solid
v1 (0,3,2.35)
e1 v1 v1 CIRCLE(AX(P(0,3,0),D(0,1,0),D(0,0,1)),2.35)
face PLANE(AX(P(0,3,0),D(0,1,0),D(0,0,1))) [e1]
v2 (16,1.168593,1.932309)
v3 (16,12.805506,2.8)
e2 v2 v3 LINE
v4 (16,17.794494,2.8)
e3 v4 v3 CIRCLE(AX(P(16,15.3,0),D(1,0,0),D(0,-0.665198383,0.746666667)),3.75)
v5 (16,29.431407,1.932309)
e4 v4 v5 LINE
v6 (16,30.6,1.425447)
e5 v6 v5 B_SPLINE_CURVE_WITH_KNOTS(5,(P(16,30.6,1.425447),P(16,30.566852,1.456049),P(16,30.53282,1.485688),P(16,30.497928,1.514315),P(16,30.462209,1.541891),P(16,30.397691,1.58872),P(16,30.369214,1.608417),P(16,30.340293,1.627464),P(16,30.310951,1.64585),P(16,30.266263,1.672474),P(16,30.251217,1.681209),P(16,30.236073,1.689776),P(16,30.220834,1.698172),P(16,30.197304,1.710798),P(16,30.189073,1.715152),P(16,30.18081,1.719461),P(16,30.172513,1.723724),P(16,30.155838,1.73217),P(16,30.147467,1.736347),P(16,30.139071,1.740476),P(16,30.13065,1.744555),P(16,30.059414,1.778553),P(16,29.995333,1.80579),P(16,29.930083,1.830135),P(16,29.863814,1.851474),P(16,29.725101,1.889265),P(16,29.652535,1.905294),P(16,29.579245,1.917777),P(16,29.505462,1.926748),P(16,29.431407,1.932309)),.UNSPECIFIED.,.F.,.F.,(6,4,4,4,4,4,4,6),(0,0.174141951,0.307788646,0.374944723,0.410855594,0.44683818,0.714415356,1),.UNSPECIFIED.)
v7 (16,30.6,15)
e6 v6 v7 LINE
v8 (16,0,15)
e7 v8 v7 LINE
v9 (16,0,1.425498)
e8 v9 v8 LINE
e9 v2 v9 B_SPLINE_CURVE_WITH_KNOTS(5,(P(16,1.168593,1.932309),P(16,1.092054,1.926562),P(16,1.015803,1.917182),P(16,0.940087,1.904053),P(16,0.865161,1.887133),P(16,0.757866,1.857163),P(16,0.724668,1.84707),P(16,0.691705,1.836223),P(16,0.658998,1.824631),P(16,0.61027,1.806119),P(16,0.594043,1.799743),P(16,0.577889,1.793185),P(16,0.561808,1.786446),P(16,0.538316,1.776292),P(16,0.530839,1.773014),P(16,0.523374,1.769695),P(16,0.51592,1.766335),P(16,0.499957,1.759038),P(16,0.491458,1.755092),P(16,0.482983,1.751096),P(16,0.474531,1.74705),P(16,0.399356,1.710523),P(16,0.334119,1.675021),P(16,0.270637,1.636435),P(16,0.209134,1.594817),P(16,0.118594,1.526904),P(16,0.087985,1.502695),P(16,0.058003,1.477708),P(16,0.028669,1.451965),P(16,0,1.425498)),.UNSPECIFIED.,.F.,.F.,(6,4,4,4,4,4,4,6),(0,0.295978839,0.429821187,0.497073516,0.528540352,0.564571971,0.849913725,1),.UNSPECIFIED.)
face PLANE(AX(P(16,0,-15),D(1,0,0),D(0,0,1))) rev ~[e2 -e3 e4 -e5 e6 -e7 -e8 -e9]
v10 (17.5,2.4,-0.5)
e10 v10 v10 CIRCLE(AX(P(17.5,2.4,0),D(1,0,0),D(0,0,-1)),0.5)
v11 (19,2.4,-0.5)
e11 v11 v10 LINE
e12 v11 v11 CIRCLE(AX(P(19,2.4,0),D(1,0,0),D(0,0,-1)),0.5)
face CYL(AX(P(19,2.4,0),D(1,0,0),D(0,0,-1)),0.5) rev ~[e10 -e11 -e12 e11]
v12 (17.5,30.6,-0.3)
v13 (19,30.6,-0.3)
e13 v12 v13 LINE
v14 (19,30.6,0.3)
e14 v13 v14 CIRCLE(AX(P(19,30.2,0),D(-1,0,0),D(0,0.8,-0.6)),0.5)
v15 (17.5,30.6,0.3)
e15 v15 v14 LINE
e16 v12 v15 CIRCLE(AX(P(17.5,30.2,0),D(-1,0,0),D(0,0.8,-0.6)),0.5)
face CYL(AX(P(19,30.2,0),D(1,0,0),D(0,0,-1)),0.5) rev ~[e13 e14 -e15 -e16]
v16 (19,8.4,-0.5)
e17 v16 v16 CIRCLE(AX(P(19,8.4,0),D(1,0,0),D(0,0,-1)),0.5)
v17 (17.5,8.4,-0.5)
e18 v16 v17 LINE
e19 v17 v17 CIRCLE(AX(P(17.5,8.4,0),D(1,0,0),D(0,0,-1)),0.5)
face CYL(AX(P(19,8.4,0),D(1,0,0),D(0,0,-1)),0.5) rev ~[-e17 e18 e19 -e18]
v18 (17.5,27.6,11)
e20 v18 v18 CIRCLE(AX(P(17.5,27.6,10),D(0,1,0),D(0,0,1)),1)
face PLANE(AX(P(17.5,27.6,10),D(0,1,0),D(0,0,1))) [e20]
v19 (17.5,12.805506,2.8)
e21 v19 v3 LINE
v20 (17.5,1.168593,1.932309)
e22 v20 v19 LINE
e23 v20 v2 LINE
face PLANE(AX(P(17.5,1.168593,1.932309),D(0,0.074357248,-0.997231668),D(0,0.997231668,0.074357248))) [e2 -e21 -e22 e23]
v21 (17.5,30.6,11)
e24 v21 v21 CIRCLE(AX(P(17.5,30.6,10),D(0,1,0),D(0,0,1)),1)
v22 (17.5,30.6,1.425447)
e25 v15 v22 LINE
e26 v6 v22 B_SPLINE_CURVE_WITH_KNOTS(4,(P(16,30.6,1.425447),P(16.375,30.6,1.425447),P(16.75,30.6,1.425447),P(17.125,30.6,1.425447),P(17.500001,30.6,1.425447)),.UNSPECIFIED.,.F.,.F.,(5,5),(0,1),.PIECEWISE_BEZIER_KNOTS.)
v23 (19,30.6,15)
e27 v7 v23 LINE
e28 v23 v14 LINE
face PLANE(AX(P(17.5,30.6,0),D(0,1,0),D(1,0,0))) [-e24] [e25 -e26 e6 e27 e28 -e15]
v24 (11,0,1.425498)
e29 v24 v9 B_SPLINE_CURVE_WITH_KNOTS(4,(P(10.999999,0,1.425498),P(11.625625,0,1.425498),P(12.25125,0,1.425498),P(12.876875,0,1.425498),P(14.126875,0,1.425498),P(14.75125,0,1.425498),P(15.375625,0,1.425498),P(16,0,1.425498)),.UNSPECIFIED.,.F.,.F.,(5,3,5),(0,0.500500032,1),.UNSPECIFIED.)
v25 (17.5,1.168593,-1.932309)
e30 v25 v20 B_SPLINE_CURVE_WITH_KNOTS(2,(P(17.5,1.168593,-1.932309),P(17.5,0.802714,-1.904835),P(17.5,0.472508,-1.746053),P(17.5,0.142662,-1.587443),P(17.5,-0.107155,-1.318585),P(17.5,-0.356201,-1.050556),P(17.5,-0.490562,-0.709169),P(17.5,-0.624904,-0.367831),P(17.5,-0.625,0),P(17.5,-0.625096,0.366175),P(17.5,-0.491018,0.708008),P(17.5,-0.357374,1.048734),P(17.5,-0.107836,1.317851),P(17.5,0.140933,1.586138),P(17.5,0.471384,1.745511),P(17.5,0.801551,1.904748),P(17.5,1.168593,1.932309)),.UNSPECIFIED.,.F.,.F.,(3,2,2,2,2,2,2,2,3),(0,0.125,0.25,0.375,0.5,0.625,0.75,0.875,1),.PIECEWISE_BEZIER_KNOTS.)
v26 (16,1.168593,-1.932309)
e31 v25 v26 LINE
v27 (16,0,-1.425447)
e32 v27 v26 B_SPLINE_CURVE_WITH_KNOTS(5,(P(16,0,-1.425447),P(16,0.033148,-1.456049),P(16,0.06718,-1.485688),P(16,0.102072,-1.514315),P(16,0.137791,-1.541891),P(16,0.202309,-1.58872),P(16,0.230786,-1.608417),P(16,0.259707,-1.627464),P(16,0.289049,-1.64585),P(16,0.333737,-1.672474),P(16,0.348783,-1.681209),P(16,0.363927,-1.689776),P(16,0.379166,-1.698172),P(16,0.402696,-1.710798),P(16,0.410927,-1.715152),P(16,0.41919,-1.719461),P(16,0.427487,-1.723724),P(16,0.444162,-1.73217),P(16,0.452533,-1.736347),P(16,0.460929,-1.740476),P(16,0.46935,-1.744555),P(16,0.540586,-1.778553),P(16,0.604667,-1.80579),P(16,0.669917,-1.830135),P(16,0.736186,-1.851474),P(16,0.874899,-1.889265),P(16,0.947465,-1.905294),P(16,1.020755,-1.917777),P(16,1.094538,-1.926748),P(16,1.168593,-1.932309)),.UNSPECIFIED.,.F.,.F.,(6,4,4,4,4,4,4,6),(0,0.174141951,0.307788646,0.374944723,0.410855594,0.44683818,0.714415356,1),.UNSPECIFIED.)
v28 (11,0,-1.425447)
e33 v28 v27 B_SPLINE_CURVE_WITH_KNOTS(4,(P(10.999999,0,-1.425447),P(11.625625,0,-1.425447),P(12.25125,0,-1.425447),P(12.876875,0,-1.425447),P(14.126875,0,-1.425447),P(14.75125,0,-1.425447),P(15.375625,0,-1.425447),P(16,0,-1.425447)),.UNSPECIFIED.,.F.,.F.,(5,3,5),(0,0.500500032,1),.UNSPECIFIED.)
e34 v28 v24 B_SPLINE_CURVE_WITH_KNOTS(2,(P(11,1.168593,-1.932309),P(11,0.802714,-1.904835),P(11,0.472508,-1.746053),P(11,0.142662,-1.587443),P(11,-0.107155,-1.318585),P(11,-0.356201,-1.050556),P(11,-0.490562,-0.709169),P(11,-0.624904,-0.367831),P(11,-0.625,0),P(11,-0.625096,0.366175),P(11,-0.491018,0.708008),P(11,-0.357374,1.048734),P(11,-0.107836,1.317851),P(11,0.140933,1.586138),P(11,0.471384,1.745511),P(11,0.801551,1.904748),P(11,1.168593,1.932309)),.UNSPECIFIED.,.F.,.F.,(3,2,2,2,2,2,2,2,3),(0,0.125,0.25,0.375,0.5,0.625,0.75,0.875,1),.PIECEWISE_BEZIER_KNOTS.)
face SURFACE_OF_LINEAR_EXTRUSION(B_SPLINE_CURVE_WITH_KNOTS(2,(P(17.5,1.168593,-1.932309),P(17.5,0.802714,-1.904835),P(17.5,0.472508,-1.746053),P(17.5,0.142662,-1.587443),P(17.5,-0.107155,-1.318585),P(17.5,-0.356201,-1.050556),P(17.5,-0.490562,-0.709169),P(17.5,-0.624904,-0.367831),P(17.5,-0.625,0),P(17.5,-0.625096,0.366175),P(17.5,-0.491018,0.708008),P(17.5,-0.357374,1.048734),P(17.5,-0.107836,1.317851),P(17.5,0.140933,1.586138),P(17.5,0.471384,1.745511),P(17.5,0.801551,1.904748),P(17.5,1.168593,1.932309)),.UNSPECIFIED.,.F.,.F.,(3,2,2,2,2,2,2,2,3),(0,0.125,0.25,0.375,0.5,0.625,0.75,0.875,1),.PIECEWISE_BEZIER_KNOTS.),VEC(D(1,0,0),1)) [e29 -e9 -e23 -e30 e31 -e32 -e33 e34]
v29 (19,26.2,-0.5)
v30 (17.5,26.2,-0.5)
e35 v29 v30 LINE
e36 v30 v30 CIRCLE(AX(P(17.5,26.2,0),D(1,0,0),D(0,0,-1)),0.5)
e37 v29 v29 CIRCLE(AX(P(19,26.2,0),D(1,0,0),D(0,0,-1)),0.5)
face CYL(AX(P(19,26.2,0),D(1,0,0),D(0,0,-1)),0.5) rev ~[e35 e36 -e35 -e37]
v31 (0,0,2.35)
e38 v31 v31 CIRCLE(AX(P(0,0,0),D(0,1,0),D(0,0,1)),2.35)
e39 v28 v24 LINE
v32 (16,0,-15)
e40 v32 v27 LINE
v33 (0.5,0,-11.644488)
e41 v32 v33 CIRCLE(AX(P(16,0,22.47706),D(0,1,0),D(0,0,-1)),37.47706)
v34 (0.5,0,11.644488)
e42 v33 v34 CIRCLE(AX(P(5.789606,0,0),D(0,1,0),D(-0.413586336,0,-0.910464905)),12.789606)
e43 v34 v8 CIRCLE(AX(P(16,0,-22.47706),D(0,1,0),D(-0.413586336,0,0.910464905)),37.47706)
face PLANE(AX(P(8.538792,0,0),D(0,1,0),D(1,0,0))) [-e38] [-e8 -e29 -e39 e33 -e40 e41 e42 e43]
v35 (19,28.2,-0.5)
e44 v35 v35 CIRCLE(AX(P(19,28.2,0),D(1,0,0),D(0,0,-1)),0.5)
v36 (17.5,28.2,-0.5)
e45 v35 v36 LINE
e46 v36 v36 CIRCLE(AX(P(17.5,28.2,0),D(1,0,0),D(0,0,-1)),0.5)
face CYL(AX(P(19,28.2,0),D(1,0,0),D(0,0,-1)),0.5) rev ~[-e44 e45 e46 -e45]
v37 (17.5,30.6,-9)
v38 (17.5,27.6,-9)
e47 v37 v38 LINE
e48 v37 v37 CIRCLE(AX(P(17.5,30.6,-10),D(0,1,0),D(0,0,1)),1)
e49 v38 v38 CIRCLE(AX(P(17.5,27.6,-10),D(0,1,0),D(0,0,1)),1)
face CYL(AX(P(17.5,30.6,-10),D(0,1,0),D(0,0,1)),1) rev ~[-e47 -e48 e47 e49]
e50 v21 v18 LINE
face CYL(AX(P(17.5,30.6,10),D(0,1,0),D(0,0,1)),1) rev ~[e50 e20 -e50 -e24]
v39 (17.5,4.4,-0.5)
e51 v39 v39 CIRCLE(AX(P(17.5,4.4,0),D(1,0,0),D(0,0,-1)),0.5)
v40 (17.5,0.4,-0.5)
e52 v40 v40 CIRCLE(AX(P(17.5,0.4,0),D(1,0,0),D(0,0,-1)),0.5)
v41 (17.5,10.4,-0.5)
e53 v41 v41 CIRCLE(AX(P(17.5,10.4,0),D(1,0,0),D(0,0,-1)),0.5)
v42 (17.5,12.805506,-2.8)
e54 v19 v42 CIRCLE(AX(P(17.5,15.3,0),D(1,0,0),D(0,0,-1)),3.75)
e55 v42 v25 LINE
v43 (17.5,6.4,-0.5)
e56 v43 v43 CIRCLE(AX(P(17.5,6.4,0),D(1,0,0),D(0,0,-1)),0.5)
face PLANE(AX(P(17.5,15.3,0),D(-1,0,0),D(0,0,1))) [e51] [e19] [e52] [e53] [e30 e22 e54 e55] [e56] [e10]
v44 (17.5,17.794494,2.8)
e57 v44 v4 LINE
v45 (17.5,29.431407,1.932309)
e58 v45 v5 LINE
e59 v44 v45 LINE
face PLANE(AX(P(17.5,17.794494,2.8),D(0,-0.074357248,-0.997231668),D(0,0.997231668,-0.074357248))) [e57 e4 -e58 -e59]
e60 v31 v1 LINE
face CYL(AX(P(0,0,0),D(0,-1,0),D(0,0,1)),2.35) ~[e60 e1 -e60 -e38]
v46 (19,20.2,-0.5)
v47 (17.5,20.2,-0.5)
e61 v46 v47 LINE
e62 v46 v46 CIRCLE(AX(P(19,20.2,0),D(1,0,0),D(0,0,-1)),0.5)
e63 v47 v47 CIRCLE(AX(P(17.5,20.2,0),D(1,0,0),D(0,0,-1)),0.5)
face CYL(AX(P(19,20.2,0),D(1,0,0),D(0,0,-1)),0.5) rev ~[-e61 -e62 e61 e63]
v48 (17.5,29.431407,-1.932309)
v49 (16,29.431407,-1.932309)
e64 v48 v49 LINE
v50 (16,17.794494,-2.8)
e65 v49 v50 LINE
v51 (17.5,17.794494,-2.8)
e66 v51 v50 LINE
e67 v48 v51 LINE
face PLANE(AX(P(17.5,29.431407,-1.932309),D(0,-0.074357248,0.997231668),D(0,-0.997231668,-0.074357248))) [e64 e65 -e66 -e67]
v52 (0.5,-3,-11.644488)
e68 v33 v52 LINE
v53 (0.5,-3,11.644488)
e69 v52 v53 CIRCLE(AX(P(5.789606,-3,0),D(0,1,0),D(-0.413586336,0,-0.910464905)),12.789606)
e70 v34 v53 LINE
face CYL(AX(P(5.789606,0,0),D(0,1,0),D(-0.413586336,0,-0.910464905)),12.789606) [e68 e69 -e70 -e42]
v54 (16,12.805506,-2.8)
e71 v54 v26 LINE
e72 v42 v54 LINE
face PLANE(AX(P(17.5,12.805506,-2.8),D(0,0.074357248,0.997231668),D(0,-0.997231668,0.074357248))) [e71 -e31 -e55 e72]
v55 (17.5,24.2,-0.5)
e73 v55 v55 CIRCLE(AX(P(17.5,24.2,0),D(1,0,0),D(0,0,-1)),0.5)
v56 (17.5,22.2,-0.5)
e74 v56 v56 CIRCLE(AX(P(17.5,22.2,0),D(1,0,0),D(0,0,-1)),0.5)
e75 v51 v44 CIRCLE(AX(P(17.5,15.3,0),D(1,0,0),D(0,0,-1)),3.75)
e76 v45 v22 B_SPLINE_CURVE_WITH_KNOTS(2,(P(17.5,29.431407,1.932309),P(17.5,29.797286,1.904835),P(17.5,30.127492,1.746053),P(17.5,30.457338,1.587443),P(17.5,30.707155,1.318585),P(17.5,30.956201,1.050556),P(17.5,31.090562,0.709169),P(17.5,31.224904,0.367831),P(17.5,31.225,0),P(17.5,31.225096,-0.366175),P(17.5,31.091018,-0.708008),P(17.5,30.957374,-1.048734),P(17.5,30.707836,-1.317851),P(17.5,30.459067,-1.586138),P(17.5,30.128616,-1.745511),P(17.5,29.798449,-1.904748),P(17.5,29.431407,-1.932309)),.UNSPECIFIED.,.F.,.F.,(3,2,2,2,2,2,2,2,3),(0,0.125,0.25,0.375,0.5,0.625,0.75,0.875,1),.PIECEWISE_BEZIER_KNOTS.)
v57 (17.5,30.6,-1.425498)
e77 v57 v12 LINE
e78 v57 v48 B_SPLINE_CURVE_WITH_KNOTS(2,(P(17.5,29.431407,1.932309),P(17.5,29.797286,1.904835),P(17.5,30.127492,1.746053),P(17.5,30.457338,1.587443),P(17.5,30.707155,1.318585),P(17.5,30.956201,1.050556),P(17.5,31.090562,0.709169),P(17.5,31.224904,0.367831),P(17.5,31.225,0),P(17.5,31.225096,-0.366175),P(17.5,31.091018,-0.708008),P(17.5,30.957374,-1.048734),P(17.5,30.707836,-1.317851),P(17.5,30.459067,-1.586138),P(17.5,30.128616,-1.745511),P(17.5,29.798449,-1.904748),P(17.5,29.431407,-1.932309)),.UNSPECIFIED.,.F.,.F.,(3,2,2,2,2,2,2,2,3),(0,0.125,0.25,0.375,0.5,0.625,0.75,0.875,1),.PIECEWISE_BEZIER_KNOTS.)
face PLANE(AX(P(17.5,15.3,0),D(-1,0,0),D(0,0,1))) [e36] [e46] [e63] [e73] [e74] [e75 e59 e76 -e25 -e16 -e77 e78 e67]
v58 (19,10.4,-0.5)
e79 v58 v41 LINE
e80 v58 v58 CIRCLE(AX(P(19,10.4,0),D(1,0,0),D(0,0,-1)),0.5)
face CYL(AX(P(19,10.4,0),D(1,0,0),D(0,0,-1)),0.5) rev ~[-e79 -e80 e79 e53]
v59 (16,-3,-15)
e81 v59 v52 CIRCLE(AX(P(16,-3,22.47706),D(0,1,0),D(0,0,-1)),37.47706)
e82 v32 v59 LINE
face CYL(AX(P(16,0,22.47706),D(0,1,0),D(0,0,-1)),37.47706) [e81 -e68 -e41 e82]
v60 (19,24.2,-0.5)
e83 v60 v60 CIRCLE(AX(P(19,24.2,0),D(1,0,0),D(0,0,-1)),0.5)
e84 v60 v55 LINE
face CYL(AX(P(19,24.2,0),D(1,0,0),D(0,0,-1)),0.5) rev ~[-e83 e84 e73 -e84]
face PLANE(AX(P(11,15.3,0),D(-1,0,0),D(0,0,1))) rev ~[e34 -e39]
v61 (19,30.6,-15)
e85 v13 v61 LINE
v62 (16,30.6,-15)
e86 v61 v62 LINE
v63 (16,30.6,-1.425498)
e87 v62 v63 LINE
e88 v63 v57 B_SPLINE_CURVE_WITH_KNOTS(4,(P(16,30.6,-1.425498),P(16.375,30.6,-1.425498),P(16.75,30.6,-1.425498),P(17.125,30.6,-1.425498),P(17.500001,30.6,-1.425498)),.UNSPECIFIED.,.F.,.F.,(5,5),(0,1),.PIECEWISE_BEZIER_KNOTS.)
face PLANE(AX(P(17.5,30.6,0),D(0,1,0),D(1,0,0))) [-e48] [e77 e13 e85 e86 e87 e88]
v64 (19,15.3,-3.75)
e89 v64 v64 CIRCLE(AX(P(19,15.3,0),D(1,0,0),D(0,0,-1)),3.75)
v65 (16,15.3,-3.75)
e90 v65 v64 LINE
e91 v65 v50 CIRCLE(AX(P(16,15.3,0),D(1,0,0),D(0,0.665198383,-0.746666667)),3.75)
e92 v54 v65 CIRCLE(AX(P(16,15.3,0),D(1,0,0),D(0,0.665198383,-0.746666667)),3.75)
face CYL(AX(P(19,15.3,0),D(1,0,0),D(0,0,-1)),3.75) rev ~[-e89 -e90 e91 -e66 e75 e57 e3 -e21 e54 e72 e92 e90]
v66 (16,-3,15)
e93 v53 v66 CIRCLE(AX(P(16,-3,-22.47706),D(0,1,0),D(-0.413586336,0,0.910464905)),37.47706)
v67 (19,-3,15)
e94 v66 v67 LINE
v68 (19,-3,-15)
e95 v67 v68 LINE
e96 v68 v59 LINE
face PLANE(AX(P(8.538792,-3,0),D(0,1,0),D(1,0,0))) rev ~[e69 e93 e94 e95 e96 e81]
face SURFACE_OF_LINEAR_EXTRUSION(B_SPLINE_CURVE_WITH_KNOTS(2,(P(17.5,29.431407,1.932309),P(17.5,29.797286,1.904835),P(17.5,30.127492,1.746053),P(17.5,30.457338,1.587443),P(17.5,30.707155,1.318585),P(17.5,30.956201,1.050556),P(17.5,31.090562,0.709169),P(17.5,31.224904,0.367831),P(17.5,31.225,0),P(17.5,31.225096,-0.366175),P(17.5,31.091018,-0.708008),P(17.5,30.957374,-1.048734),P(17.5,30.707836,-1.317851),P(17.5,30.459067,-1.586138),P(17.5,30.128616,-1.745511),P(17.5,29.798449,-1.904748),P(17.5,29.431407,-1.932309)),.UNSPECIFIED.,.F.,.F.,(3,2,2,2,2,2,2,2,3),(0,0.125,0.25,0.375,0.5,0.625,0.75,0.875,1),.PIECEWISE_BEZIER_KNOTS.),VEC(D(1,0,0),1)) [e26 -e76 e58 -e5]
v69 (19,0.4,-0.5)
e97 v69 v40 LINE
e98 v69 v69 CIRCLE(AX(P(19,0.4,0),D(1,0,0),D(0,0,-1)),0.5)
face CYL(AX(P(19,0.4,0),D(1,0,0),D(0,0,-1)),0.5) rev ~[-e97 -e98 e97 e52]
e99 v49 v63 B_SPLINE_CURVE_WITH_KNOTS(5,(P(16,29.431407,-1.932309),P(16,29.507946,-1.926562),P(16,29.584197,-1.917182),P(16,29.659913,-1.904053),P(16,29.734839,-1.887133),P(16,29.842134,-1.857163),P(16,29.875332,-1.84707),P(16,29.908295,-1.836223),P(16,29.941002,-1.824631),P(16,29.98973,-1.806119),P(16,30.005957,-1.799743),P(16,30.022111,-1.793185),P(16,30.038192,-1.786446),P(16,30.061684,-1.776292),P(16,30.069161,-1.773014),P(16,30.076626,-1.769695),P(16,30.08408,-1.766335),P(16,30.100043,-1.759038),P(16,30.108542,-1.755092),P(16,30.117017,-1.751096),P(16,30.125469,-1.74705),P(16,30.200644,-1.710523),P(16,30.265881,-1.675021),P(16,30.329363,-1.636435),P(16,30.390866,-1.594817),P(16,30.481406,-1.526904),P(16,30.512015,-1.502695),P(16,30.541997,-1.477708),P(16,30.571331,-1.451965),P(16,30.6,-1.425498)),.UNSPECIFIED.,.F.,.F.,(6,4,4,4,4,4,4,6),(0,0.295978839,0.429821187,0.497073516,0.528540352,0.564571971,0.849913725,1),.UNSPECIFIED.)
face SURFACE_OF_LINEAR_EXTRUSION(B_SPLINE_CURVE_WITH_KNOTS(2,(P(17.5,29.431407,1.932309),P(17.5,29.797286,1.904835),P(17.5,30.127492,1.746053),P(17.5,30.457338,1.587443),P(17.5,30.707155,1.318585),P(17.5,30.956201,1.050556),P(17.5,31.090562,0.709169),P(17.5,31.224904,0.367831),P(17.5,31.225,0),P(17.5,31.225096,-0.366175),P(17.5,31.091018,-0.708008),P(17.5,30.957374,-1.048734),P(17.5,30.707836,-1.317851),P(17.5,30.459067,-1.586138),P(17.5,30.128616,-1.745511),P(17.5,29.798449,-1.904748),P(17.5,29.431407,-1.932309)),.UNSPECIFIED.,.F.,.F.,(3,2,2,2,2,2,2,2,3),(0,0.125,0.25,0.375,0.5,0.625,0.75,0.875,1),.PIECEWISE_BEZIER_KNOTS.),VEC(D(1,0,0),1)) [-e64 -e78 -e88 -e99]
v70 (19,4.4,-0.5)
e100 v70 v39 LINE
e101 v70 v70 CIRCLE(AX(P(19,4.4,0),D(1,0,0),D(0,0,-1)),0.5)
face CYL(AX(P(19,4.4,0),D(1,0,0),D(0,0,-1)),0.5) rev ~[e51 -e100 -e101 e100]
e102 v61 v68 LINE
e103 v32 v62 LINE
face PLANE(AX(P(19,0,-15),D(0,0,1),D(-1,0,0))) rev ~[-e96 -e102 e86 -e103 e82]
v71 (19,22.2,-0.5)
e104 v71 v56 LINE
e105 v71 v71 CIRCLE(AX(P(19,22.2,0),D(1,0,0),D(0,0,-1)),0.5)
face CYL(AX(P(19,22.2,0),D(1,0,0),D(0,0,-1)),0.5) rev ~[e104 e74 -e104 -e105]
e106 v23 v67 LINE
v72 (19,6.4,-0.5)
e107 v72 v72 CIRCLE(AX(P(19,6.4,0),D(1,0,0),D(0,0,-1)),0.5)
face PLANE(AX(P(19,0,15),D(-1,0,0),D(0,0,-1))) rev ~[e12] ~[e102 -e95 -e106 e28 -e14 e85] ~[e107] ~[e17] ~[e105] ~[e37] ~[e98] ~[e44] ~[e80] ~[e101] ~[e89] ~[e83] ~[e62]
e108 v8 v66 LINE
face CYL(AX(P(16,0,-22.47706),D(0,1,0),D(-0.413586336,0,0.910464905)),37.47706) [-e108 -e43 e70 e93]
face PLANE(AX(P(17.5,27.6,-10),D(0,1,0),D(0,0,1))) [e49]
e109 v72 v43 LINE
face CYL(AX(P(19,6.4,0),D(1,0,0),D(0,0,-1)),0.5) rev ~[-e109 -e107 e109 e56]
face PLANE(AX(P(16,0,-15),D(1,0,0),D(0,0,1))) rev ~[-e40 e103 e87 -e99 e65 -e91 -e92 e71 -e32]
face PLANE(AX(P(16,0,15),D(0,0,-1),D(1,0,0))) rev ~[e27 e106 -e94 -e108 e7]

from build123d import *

# Parameters (mm, degrees)
BOSS_EXTRUDE1_DEPTH          = 3
BOSS_EXTRU_1_DEPTH           = 30.6
ESQUISSE2_R                  = 1.0000000000000018
ENL_V_MAT_EXTRU_1_DEPTH      = 3
ESQUISSE3_R                  = 2.349999999999996
BOSS_EXTRU_2_DEPTH           = 3
ESQUISSE4_R                  = 2.5
ENL_V_MAT_EXTRU_2_DEPTH      = 42.11398788733586
ENL_V_MAT_EXTRU_3_DEPTH      = 5
ENL_V_MAT_EXTRU_3_DEPTH_BACK = 1.5
ESQUISSE6_R                  = 0.4999999999999987
ESQUISSE6_R_2                = 0.5000000000000008
ESQUISSE6_R_3                = 0.49999999999999967
ESQUISSE6_R_4                = 3.749999999999999
ENL_V_MAT_EXTRU_4_DEPTH      = 3


with BuildPart() as part:
    # Sketch1 → Boss-Extrude1 (new body)
    with BuildSketch(Plane(origin=(0, 0, 0), x_dir=(1, 0, 0), z_dir=(0, 1, 0))):
        with BuildLine():
            Line((19, 15), (16.00000000000001, 15))
            ThreePointArc((16.00000000000001, 15.000000000000007), (8.070475080311514, 14.151517110035783), (0.5000000000000107, 11.644487847162011))
            ThreePointArc((0.5000000000000098, 11.64448784716201), (-6.999999999999976, -4.4e-16), (0.5000000000000098, -11.644487847162011))
            ThreePointArc((0.5000000000000107, -11.644487847162011), (8.070475080311514, -14.151517110035783), (16.00000000000001, -15.000000000000007))
            Line((16.00000000000001, -15), (19, -15))
            Line((19, -15), (19, 15))
        make_face()
    extrude(amount=-BOSS_EXTRUDE1_DEPTH)

    # Esquisse1 → Boss.-Extru.1 (add)
    with BuildSketch(Plane(origin=(0, 0, 0), x_dir=(1, 0, 0), z_dir=(0, 1, 0))):
        Polygon((19, 15), (16.000000000000007, 15), (16.00000000000001, -15), (19.000000000000004, -15), align=None)
    extrude(amount=BOSS_EXTRU_1_DEPTH)

    # Esquisse2 → Enlèv. mat.-Extru.1 (cut)
    with BuildSketch(Plane(origin=(0, 30.6, 0), x_dir=(1, 0, 0), z_dir=(0, 1, 0))):
        with Locations(Location((17.500000000000004, 10, 0), (0, 0, 270))):
            Circle(ESQUISSE2_R)
        with Locations(Location((17.500000000000004, -10, 0), (0, 0, 270))):
            Circle(ESQUISSE2_R)
    extrude(amount=-ENL_V_MAT_EXTRU_1_DEPTH, mode=Mode.SUBTRACT)

    # Esquisse3 → Boss.-Extru.2 (add)
    with BuildSketch(Plane(origin=(0, 0, 0), x_dir=(1, 0, 0), z_dir=(0, 1, 0))):
        with Locations(Location((0, 0, 0), (0, 0, 270))):
            Circle(ESQUISSE3_R)
    extrude(amount=BOSS_EXTRU_2_DEPTH)

    # Esquisse4 → Enlèv. mat.-Extru.2 (cut, through all)
    with BuildSketch(Plane.ZY.offset(-16.000000000000007)):
        with Locations((0, 15.3)):
            Circle(ESQUISSE4_R)
    extrude(amount=-ENL_V_MAT_EXTRU_2_DEPTH, mode=Mode.SUBTRACT)

    # Esquisse5 → Enlèv. mat.-Extru.3 (cut, two sides: drawn at the far end of the back side and taken through both)
    with BuildSketch(Plane.ZY.offset(-16.000000000000007).offset(-ENL_V_MAT_EXTRU_3_DEPTH_BACK)):
        with BuildLine():
            Line((-2.8000000000001206, 12.805506063347845), (-1.9323091258538179, 1.1685931981230362))
            add(Edge.make_bspline(
                [(-1.9323091258538179, 1.1685931981230362), (-1.9048352156569601, 0.8027138716048543), (-1.7460527055675423, 0.47250804579621575), (-1.5874431867330887, 0.14266197447294557), (-1.3185847338688517, -0.10715488116746878), (-1.0505560477953044, -0.3562007373159315), (-0.7091686681940543, -0.4905620157021409), (-0.3678310237411564, -0.6249037196151552), (-1.5634e-13, -0.6249999999988765), (0.3661752794111309, -0.6250958469887595), (0.7080076723836786, -0.4910181757340655), (1.0487343876149366, -0.35737418689144385), (1.3178512419643233, -0.1078357174129213), (1.5861375320152837, 0.14093261173257243), (1.745511479884174, 0.4713841828126921), (1.9047478532446405, 0.8015505020492266), (1.932309125853515, 1.1685931981230258)],
                knots=[0, 0, 0, 0.125, 0.125, 0.25, 0.25, 0.375, 0.375, 0.5, 0.5, 0.625, 0.625, 0.75, 0.75, 0.875, 0.875, 1, 1, 1], degree=2))
            Line((1.932309125853515, 1.1685931981230258), (2.7999999999998786, 12.80550606334783))
            ThreePointArc((2.7999999999998786, 12.80550606334783), (3.7499999999998854, 15.300000000001111), (2.799999999999892, 17.794493936654398))
            Line((2.799999999999892, 17.794493936654398), (1.9323091258535894, 29.43140680187921))
            add(Edge.make_bspline(
                [(1.9323091258535894, 29.43140680187921), (1.9048352156568606, 29.797286128395676), (1.746052705567315, 30.12749195420603), (1.587443186734994, 30.45733802552631), (1.318584733868623, 30.70715488116971), (1.0505560477969664, 30.956200737317417), (0.7091686681938255, 31.090562015704386), (0.36783102373777693, 31.224903719618656), (-7.308e-14, 31.225000000001117), (-0.36617527942078804, 31.22509584698975), (-0.7080076723839066, 31.091018175736306), (-1.0487343876225454, 30.957374186888348), (-1.3178512419645536, 30.70783571741516), (-1.586137532016866, 30.45906738826691), (-1.745511479884403, 30.128615817189548), (-1.9047478532448734, 29.798449497952962), (-1.932309125853744, 29.431406801879216)],
                knots=[0, 0, 0, 0.125, 0.125, 0.25, 0.25, 0.375, 0.375, 0.5, 0.5, 0.625, 0.625, 0.75, 0.75, 0.875, 0.875, 1, 1, 1], degree=2))
            Line((-1.932309125853744, 29.431406801879216), (-2.8000000000001077, 17.794493936654412))
            ThreePointArc((-2.8000000000001077, 17.794493936654412), (-3.7500000000001132, 15.300000000001132), (-2.8000000000001206, 12.805506063347845))
        make_face()
    extrude(amount=ENL_V_MAT_EXTRU_3_DEPTH + ENL_V_MAT_EXTRU_3_DEPTH_BACK, mode=Mode.SUBTRACT)

    # Esquisse6 → Enlèv. mat.-Extru.4 (cut)
    with BuildSketch(Plane(origin=(19, 0, 0), x_dir=(0, 0, -1), z_dir=(1, 0, 0))):
        with Locations((7.86e-14, 30.20000000000113)):
            Circle(ESQUISSE6_R)
        with Locations((8.389e-14, 28.200000000001125)):
            Circle(ESQUISSE6_R)
        with Locations((8.917e-14, 26.200000000001125)):
            Circle(ESQUISSE6_R)
        with Locations((9.445e-14, 24.200000000001122)):
            Circle(ESQUISSE6_R_2)
        with Locations((9.974e-14, 22.200000000001125)):
            Circle(ESQUISSE6_R_3)
        with Locations((1.0502e-13, 20.200000000001125)):
            Circle(ESQUISSE6_R)
        with Locations((1.309e-13, 10.400000000001125)):
            Circle(ESQUISSE6_R_3)
        with Locations((1.3619e-13, 8.400000000001125)):
            Circle(ESQUISSE6_R_3)
        with Locations((1.4147e-13, 6.400000000001126)):
            Circle(ESQUISSE6_R_3)
        with Locations((1.4675e-13, 4.400000000001127)):
            Circle(ESQUISSE6_R_3)
        with Locations((1.5204e-13, 2.4000000000011252)):
            Circle(ESQUISSE6_R_3)
        with Locations((1.5732e-13, 0.4000000000011234)):
            Circle(ESQUISSE6_R_3)
        with Locations((1.1848e-13, 15.300000000001125)):
            Circle(ESQUISSE6_R_4)
    extrude(amount=-ENL_V_MAT_EXTRU_4_DEPTH, mode=Mode.SUBTRACT)


solid = part.part
